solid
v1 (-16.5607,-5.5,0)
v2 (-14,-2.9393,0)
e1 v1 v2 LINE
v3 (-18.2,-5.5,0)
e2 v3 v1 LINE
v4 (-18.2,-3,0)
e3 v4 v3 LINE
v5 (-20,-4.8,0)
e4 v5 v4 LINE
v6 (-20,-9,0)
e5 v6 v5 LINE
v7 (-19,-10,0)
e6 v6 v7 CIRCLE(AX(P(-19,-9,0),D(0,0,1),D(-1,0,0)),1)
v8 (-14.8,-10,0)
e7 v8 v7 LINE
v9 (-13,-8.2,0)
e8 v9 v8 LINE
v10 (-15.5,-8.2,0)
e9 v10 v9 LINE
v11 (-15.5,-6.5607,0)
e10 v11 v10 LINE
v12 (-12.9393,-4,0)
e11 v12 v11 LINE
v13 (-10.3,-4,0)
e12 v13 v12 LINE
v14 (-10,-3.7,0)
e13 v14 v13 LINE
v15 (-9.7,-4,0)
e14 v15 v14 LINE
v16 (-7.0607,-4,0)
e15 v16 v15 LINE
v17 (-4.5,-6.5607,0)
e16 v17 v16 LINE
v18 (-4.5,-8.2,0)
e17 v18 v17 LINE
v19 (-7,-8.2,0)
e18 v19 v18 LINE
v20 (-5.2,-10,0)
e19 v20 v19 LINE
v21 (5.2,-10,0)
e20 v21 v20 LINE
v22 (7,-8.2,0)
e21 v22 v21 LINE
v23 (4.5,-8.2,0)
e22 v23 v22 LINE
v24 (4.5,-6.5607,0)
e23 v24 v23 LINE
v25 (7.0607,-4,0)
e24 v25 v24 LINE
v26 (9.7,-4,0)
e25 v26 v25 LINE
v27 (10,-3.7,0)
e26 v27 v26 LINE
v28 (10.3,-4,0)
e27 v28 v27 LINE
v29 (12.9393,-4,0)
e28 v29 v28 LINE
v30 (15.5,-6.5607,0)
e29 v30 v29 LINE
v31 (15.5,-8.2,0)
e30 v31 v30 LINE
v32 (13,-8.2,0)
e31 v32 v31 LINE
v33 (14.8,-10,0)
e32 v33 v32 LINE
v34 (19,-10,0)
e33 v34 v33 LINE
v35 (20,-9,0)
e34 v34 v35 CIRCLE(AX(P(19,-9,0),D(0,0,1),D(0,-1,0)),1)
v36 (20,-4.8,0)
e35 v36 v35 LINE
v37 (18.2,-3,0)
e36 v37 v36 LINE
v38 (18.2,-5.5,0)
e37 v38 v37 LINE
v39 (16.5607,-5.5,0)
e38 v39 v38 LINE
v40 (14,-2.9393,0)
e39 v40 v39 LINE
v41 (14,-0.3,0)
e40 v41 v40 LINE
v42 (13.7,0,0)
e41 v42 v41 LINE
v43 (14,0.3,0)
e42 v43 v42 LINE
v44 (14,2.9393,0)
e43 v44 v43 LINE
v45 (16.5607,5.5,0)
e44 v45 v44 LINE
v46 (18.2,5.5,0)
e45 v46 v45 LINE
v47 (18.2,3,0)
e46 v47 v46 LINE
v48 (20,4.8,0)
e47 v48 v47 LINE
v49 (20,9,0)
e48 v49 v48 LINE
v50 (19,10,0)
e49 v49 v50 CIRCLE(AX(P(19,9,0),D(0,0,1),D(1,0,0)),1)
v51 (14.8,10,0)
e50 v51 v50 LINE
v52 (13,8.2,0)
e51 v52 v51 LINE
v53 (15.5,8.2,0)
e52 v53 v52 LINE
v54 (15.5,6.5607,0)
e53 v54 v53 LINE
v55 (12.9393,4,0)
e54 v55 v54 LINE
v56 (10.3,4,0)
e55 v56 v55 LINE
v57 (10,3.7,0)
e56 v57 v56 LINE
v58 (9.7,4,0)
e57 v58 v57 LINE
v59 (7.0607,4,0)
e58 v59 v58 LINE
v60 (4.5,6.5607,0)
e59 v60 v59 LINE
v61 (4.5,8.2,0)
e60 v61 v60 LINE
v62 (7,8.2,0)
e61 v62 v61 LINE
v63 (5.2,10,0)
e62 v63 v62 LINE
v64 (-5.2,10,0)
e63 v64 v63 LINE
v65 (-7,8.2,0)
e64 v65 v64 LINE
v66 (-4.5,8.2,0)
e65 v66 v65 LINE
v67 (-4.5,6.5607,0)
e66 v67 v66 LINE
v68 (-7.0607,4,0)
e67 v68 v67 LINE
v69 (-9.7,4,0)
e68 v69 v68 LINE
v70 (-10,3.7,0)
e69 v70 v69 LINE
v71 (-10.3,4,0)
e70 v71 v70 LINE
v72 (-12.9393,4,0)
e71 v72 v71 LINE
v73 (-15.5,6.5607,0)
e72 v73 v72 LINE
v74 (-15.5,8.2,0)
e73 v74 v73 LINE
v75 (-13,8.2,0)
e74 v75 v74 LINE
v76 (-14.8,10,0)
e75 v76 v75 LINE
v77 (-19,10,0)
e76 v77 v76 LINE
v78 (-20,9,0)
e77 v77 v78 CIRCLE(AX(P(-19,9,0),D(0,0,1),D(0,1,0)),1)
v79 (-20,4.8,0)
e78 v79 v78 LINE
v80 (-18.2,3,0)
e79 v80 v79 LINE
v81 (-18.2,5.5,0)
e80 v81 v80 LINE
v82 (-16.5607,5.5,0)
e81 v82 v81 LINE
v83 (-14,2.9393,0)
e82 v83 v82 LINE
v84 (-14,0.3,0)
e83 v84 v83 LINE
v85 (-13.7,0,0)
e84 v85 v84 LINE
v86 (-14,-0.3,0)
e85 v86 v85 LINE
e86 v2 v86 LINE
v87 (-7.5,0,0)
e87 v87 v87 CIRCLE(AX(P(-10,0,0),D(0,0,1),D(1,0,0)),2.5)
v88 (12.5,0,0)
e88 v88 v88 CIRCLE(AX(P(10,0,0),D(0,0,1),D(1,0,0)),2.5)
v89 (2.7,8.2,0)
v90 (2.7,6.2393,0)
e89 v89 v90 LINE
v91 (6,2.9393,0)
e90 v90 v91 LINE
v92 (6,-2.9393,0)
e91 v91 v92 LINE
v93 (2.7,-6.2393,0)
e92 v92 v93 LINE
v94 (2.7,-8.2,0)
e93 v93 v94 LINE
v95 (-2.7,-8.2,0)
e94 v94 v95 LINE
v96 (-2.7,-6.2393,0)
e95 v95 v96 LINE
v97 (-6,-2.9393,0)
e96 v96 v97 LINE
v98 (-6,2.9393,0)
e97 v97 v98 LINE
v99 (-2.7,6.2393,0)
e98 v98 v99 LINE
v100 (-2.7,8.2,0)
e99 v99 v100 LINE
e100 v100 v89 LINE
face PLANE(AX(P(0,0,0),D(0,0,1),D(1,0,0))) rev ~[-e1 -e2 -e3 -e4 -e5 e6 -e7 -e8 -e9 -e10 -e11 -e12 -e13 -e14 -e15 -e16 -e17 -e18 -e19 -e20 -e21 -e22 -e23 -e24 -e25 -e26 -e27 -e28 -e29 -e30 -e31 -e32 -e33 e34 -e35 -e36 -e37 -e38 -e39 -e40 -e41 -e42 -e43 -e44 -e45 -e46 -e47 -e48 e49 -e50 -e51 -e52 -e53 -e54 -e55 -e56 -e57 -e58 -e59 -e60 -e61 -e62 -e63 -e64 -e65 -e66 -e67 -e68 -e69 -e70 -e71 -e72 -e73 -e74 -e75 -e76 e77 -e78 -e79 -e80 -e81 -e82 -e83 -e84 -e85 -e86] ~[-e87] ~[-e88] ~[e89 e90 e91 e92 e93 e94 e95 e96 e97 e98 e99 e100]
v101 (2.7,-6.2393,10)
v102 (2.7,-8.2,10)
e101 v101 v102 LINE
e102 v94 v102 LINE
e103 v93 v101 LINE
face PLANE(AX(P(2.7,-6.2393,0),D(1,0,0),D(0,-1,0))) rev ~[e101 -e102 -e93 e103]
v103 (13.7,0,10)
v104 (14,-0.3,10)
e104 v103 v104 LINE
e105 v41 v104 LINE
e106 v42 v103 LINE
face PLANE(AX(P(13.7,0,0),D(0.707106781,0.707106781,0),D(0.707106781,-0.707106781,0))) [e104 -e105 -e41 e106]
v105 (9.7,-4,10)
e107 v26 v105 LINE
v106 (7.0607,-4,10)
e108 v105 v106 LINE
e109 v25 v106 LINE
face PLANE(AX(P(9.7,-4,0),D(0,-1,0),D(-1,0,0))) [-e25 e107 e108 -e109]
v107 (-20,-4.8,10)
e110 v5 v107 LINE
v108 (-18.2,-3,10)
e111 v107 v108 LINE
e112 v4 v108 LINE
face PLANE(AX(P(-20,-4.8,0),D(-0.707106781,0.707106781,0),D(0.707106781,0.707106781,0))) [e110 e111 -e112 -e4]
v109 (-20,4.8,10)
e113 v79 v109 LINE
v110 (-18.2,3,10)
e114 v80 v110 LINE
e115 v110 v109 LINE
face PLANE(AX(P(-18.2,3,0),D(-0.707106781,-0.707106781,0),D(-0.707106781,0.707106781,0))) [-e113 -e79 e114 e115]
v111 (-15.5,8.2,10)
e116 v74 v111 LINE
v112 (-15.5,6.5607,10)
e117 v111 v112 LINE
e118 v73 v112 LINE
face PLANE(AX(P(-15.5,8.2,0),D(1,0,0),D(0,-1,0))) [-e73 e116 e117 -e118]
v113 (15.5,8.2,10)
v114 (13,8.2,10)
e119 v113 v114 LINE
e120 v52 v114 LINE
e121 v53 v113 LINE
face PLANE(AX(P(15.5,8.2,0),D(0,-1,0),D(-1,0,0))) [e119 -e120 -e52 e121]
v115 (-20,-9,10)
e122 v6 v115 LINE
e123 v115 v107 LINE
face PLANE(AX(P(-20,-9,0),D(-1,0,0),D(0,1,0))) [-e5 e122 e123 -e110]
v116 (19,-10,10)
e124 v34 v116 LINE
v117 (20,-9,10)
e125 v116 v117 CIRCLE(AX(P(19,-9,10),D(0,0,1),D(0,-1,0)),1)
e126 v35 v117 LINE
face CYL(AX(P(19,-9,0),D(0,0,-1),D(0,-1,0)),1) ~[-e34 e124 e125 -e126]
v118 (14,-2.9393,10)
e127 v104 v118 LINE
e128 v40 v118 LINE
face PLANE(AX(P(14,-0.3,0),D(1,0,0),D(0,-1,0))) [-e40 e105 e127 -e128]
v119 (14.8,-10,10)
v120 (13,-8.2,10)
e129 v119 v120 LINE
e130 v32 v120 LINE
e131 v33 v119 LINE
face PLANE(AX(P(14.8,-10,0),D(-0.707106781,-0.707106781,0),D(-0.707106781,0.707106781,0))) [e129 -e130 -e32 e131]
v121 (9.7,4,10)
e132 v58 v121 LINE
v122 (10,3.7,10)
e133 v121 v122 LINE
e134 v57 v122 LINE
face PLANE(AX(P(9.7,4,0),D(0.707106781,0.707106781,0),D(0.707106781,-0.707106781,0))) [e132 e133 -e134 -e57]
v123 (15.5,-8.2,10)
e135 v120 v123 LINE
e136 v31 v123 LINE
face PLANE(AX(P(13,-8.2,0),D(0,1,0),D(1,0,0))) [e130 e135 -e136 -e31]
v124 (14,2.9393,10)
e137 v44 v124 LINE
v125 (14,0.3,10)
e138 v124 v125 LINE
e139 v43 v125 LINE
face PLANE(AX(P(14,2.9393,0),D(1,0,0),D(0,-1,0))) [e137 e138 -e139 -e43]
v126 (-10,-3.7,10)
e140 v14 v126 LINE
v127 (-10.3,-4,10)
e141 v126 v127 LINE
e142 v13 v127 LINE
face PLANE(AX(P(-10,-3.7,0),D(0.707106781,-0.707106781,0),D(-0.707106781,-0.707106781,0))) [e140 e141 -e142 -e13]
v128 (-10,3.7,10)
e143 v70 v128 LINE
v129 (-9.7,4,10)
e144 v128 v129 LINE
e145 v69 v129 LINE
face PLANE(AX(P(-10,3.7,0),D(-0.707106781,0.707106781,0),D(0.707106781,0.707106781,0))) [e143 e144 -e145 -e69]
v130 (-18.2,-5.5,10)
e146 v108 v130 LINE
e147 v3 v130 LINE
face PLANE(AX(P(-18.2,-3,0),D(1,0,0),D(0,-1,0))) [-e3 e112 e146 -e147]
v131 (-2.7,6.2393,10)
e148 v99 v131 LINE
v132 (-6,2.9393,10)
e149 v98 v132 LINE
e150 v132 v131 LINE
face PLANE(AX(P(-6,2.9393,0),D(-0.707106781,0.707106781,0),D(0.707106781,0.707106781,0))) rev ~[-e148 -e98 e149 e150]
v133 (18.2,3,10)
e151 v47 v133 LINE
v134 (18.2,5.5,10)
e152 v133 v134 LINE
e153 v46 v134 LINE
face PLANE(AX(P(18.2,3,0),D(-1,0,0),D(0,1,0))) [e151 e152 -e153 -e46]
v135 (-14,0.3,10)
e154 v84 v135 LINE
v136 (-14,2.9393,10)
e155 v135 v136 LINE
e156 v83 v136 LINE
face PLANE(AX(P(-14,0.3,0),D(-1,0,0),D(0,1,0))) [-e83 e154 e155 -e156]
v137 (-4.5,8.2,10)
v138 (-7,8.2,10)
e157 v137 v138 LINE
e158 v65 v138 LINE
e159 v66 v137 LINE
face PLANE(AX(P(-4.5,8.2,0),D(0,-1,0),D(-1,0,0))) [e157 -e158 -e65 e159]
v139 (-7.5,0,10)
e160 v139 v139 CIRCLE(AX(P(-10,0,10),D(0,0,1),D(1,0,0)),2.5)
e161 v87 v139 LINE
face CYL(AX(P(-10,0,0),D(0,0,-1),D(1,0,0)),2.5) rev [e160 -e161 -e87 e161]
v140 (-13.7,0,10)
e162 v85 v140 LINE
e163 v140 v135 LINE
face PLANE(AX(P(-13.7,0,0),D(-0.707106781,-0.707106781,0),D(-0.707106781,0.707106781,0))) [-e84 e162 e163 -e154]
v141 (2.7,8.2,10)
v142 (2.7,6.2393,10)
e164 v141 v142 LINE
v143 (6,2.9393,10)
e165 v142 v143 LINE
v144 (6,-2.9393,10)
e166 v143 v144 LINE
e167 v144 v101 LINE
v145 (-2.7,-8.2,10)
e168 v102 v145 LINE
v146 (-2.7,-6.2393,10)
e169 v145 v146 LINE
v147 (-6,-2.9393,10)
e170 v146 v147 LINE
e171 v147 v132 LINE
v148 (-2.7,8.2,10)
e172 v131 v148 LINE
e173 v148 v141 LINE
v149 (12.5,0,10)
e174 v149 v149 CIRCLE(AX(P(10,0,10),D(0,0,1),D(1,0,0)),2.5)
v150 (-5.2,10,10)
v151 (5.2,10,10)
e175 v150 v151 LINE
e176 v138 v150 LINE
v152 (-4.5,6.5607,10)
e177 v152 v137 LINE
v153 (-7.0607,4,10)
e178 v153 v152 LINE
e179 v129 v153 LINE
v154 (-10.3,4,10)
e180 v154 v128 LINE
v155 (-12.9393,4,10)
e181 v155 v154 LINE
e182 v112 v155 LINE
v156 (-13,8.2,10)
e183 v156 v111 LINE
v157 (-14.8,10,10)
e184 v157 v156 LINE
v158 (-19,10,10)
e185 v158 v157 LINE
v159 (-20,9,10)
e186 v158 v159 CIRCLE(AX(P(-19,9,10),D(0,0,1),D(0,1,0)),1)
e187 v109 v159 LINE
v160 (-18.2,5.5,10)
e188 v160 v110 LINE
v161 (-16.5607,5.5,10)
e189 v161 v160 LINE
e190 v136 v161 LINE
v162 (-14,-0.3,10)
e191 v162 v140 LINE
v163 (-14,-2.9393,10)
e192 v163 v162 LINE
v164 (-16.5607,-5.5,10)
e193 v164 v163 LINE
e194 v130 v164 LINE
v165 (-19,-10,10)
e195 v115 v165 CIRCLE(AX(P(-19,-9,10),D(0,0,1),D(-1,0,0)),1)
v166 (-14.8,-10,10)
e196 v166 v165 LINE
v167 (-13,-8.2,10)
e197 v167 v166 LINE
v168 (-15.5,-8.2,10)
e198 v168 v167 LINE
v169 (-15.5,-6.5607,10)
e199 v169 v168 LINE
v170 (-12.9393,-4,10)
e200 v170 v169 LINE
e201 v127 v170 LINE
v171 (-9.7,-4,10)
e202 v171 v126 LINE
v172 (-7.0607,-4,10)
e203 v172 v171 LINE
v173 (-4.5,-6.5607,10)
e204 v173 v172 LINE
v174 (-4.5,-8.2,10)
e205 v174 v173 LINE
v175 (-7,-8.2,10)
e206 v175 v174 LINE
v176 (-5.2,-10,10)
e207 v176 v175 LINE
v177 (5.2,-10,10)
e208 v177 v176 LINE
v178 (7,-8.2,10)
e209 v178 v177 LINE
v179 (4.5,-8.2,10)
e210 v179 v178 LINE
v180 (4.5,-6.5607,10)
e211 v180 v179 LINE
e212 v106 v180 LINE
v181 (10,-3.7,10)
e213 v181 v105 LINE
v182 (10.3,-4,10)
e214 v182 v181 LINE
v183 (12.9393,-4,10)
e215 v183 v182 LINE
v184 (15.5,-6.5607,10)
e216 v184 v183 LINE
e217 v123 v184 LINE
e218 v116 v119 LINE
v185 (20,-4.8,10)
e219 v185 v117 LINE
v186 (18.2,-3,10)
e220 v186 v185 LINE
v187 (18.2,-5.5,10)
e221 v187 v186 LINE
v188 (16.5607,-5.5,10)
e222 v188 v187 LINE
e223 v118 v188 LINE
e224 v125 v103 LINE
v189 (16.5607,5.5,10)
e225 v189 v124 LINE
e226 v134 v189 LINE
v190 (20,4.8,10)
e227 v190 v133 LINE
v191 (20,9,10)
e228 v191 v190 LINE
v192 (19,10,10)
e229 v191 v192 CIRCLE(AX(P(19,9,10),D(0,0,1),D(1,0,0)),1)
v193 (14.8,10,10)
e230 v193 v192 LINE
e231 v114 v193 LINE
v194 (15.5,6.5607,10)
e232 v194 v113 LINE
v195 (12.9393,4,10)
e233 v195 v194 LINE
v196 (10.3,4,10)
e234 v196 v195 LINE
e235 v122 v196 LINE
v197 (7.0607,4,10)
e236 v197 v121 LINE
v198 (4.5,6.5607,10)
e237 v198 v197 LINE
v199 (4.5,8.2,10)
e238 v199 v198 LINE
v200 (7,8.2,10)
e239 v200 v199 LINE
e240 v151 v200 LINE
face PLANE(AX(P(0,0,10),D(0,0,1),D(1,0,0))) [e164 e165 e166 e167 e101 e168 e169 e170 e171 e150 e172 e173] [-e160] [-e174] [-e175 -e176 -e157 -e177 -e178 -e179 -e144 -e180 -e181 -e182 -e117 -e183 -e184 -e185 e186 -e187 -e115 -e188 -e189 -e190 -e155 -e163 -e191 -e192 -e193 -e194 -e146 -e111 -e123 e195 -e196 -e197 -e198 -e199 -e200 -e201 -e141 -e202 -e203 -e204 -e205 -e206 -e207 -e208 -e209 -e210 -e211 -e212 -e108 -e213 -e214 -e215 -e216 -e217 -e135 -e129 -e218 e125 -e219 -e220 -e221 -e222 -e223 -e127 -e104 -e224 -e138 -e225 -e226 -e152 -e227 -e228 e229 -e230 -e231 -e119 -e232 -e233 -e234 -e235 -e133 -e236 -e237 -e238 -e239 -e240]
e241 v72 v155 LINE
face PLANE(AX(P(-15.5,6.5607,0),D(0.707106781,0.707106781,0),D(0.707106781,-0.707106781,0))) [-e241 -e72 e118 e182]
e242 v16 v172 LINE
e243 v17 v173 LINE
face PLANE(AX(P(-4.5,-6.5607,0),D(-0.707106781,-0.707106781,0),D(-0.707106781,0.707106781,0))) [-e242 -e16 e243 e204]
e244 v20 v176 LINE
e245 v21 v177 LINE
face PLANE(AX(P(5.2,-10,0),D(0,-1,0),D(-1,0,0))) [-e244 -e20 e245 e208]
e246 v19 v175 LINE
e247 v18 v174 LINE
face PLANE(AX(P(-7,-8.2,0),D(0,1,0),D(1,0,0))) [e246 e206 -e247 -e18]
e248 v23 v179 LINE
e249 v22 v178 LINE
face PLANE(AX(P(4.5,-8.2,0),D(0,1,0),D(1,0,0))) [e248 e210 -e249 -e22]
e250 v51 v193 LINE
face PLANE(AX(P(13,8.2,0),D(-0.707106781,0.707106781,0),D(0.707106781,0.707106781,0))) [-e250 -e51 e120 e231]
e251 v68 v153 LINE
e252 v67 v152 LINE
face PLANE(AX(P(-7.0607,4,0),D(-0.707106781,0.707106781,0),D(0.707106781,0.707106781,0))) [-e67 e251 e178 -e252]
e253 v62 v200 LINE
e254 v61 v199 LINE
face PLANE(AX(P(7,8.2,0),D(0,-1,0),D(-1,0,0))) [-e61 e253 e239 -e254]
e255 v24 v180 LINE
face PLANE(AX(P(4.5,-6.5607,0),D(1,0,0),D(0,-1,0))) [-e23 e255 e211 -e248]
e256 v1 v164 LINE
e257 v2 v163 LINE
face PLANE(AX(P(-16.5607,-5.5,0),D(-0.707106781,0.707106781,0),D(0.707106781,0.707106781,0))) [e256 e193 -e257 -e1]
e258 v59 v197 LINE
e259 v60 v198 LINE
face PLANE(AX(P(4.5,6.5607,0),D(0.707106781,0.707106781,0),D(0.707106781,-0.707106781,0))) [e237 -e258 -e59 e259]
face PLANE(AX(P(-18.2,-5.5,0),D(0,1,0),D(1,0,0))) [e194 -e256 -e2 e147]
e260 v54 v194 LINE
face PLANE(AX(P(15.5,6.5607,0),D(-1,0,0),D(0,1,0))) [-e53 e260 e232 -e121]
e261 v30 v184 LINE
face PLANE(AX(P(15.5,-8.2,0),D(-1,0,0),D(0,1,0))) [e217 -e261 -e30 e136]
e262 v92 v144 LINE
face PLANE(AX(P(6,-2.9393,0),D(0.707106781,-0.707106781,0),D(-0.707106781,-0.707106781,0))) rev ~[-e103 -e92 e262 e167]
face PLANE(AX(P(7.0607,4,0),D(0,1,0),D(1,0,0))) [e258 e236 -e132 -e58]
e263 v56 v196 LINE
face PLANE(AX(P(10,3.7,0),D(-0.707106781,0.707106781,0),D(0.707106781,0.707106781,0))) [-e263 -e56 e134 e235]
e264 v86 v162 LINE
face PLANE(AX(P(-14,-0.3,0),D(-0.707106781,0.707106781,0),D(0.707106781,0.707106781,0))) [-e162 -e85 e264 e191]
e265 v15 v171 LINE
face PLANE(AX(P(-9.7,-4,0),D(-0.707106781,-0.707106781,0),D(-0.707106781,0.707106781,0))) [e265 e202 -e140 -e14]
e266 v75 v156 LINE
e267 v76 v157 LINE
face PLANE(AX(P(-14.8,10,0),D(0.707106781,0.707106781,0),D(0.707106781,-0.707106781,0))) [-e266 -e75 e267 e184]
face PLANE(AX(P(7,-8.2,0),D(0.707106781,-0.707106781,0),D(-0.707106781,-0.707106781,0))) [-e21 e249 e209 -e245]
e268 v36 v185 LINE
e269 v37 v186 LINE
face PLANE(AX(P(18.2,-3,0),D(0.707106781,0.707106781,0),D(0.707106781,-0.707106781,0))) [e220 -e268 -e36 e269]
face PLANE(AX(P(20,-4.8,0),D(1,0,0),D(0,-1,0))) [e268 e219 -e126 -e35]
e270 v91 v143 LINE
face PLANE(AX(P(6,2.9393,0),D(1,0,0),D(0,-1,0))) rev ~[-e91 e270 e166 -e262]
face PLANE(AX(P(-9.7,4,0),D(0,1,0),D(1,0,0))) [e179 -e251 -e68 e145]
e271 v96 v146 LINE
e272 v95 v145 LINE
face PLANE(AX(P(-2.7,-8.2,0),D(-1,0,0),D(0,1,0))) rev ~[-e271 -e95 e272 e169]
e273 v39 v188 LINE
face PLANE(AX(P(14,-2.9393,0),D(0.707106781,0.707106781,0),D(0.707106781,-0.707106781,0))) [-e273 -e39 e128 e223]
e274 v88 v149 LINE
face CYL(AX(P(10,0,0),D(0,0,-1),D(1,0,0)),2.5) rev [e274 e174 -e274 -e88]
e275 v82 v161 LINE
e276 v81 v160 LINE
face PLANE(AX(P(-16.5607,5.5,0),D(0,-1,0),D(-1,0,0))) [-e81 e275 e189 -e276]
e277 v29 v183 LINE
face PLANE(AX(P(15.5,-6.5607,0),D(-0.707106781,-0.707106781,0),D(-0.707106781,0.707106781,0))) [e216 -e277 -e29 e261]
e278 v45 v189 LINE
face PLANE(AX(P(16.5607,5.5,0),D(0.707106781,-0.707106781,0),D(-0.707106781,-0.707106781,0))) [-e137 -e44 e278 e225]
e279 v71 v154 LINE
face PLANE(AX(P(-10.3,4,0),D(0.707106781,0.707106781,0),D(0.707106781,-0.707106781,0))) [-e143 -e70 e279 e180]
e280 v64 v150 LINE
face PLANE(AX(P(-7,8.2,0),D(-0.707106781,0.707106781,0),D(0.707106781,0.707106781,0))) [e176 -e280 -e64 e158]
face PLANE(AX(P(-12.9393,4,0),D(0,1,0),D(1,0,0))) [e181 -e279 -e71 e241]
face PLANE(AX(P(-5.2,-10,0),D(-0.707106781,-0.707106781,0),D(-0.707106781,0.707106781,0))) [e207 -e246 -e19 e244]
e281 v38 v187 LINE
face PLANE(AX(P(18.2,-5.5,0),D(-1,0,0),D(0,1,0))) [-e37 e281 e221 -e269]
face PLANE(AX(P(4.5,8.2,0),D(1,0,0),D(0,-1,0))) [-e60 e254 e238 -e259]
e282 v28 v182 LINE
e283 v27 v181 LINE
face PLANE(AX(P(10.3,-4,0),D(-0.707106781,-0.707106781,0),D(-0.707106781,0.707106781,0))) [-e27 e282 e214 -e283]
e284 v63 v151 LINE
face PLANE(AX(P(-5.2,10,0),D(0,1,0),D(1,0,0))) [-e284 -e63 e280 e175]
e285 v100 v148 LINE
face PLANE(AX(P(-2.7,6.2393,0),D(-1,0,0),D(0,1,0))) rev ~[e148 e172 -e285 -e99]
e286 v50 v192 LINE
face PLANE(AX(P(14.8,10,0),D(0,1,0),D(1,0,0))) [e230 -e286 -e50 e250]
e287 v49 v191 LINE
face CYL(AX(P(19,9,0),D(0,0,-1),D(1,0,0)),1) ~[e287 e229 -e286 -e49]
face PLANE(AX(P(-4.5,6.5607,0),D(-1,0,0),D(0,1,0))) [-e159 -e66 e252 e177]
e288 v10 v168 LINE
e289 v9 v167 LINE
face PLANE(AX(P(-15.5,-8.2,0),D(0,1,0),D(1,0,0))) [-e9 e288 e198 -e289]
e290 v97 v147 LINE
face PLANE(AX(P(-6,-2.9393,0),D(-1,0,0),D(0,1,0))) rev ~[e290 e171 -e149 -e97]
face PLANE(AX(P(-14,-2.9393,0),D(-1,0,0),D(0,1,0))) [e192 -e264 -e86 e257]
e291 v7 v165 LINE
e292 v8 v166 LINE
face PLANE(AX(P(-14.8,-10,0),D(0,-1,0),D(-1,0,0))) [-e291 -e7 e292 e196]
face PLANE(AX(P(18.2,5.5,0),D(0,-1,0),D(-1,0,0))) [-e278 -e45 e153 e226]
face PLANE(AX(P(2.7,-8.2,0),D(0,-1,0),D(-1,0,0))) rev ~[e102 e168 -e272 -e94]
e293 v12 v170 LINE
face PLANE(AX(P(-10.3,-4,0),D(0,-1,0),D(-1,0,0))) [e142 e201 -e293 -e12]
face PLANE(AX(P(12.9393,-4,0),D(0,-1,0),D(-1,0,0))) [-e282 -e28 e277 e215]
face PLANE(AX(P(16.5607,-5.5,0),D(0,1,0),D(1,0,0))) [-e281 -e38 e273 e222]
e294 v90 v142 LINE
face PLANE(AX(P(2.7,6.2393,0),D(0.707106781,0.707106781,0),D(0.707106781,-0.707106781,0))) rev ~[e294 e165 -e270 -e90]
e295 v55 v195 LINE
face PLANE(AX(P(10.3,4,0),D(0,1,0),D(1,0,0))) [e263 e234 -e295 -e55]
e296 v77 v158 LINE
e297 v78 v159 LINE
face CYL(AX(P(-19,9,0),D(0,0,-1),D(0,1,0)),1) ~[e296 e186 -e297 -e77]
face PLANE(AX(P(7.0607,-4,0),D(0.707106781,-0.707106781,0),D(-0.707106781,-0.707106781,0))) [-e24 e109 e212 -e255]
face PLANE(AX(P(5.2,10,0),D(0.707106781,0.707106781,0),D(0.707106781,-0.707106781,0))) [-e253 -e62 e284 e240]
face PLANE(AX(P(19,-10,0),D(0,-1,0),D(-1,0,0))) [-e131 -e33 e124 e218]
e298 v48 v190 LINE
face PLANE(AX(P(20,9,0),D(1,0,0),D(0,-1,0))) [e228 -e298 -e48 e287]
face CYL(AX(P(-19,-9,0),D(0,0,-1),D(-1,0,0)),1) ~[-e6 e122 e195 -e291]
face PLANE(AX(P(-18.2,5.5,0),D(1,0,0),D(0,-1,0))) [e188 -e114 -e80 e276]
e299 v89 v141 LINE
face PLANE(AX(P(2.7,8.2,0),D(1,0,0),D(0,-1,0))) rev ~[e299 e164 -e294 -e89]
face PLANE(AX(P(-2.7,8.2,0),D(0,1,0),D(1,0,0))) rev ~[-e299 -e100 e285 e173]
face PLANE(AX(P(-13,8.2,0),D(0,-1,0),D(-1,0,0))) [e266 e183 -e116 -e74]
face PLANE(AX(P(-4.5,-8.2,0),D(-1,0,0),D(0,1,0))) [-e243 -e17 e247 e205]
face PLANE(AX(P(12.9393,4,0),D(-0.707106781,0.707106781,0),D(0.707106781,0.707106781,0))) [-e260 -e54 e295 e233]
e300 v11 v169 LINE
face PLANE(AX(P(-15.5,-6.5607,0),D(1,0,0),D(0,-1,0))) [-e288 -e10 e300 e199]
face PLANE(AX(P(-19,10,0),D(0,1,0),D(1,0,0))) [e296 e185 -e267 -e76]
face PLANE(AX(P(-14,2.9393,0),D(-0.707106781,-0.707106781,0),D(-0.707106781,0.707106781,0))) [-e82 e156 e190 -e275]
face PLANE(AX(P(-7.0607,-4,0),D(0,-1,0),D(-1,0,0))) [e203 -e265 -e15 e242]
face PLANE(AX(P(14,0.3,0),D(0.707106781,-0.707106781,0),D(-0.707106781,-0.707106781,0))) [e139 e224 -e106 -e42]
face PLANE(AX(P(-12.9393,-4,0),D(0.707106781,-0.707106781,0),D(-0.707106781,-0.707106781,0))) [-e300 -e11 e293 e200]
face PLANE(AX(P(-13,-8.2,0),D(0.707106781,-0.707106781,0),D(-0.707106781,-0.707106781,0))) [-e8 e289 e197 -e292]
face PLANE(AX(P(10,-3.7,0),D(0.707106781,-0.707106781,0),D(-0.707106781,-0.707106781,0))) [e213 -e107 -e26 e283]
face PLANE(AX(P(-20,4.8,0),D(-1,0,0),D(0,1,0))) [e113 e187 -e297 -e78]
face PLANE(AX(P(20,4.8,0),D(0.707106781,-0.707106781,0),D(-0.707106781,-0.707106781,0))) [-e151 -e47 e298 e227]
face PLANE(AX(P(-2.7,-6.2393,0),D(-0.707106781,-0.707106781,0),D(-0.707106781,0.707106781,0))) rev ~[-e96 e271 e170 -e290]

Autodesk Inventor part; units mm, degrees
ref_plane "YZ Plane" through (0, 0, 0) normal (1, 0, 0) x (0, 1, 0)
ref_plane "XZ Plane" through (0, 0, 0) normal (0, 1, 0) x (-1, 0, 0)
ref_plane "XY Plane" through (0, 0, 0) normal (0, 0, 1) x (1, 0, 0)
sketch "Esboço1" plane through (0, 0, 0) normal (0, 0, 1) x (1, 0, 0)
  arc A0 (19, -10) -> (20, -9) centre (19, -9) ccw
  line L0 (20, -4.8) -> (20, -9)
  line L1 (18.2, -3) -> (20, -4.8)
  line L2 (18.2, -5.5) -> (18.2, -3)
  line L3 (16.5607, -5.5) -> (18.2, -5.5)
  line L4 (14, -2.9393) -> (16.5607, -5.5)
  line L5 (14, -0.3) -> (14, -2.9393)
  line L6 (13.7, 0) -> (14, -0.3)
  line L7 (14, 0.3) -> (13.7, 0)
  line L8 (14, 2.9393) -> (14, 0.3)
  line L9 (16.5607, 5.5) -> (14, 2.9393)
  line L10 (18.2, 5.5) -> (16.5607, 5.5)
  line L11 (18.2, 3) -> (18.2, 5.5)
  line L12 (20, 4.8) -> (18.2, 3)
  line L13 (20, 9) -> (20, 4.8)
  arc A1 (20, 9) -> (19, 10) centre (19, 9) ccw
  line L14 (14.8, 10) -> (19, 10)
  line L15 (13, 8.2) -> (14.8, 10)
  line L16 (15.5, 8.2) -> (13, 8.2)
  line L17 (15.5, 6.5607) -> (15.5, 8.2)
  line L18 (12.9393, 4) -> (15.5, 6.5607)
  line L19 (10.3, 4) -> (12.9393, 4)
  line L20 (10, 3.7) -> (10.3, 4)
  line L21 (9.7, 4) -> (10, 3.7)
  line L22 (7.0607, 4) -> (9.7, 4)
  line L23 (4.5, 6.5607) -> (7.0607, 4)
  line L24 (4.5, 8.2) -> (4.5, 6.5607)
  line L25 (7, 8.2) -> (4.5, 8.2)
  line L26 (5.2, 10) -> (7, 8.2)
  line L27 (-5.2, 10) -> (5.2, 10)
  line L28 (-7, 8.2) -> (-5.2, 10)
  line L29 (-4.5, 8.2) -> (-7, 8.2)
  line L30 (-4.5, 6.5607) -> (-4.5, 8.2)
  line L31 (-7.0607, 4) -> (-4.5, 6.5607)
  line L32 (-9.7, 4) -> (-7.0607, 4)
  line L33 (-10, 3.7) -> (-9.7, 4)
  line L34 (-10.3, 4) -> (-10, 3.7)
  line L35 (-12.9393, 4) -> (-10.3, 4)
  line L36 (-15.5, 6.5607) -> (-12.9393, 4)
  line L37 (-15.5, 8.2) -> (-15.5, 6.5607)
  line L38 (-13, 8.2) -> (-15.5, 8.2)
  line L39 (-14.8, 10) -> (-13, 8.2)
  line L40 (-19, 10) -> (-14.8, 10)
  arc A2 (-19, 10) -> (-20, 9) centre (-19, 9) ccw
  line L41 (-20, 4.8) -> (-20, 9)
  line L42 (-18.2, 3) -> (-20, 4.8)
  line L43 (-18.2, 5.5) -> (-18.2, 3)
  line L44 (-16.5607, 5.5) -> (-18.2, 5.5)
  line L45 (-14, 2.9393) -> (-16.5607, 5.5)
  line L46 (-14, 0.3) -> (-14, 2.9393)
  line L47 (-13.7, 0) -> (-14, 0.3)
  line L48 (-14, -0.3) -> (-13.7, 0)
  line L49 (-14, -2.9393) -> (-14, -0.3)
  line L50 (-16.5607, -5.5) -> (-14, -2.9393)
  line L51 (-18.2, -5.5) -> (-16.5607, -5.5)
  line L52 (-18.2, -3) -> (-18.2, -5.5)
  line L53 (-20, -4.8) -> (-18.2, -3)
  line L54 (-20, -9) -> (-20, -4.8)
  arc A3 (-20, -9) -> (-19, -10) centre (-19, -9) ccw
  line L55 (-14.8, -10) -> (-19, -10)
  line L56 (-13, -8.2) -> (-14.8, -10)
  line L57 (-15.5, -8.2) -> (-13, -8.2)
  line L58 (-15.5, -6.5607) -> (-15.5, -8.2)
  line L59 (-12.9393, -4) -> (-15.5, -6.5607)
  line L60 (-10.3, -4) -> (-12.9393, -4)
  line L61 (-10, -3.7) -> (-10.3, -4)
  line L62 (-9.7, -4) -> (-10, -3.7)
  line L63 (-7.0607, -4) -> (-9.7, -4)
  line L64 (-4.5, -6.5607) -> (-7.0607, -4)
  line L65 (-4.5, -8.2) -> (-4.5, -6.5607)
  line L66 (-7, -8.2) -> (-4.5, -8.2)
  line L67 (-5.2, -10) -> (-7, -8.2)
  line L68 (5.2, -10) -> (-5.2, -10)
  line L69 (7, -8.2) -> (5.2, -10)
  line L70 (4.5, -8.2) -> (7, -8.2)
  line L71 (4.5, -6.5607) -> (4.5, -8.2)
  line L72 (7.0607, -4) -> (4.5, -6.5607)
  line L73 (9.7, -4) -> (7.0607, -4)
  line L74 (10, -3.7) -> (9.7, -4)
  line L75 (10.3, -4) -> (10, -3.7)
  line L76 (12.9393, -4) -> (10.3, -4)
  line L77 (15.5, -6.5607) -> (12.9393, -4)
  line L78 (15.5, -8.2) -> (15.5, -6.5607)
  line L79 (13, -8.2) -> (15.5, -8.2)
  line L80 (14.8, -10) -> (13, -8.2)
  line L81 (19, -10) -> (14.8, -10)
  line L82 (-2.7, 8.2) -> (2.7, 8.2)
  line L83 (2.7, 8.2) -> (2.7, 6.2393)
  line L84 (2.7, 6.2393) -> (6, 2.9393)
  line L85 (6, 2.9393) -> (6, -2.9393)
  line L86 (6, -2.9393) -> (2.7, -6.2393)
  line L87 (2.7, -6.2393) -> (2.7, -8.2)
  line L88 (2.7, -8.2) -> (-2.7, -8.2)
  line L89 (-2.7, -8.2) -> (-2.7, -6.2393)
  line L90 (-2.7, -6.2393) -> (-6, -2.9393)
  line L91 (-6, -2.9393) -> (-6, 2.9393)
  line L92 (-6, 2.9393) -> (-2.7, 6.2393)
  line L93 (-2.7, 6.2393) -> (-2.7, 8.2)
  circle A4 centre (10, 0) radius 2.5
  circle A5 centre (-10, 0) radius 2.5
  point P0 (0, 0)
  point P1 (0, 0)
extrude "Extrusão1" add sketch "Esboço1" along normal blind 10
properties part number "PERFIL_ESTRUTURAL_20X40"
